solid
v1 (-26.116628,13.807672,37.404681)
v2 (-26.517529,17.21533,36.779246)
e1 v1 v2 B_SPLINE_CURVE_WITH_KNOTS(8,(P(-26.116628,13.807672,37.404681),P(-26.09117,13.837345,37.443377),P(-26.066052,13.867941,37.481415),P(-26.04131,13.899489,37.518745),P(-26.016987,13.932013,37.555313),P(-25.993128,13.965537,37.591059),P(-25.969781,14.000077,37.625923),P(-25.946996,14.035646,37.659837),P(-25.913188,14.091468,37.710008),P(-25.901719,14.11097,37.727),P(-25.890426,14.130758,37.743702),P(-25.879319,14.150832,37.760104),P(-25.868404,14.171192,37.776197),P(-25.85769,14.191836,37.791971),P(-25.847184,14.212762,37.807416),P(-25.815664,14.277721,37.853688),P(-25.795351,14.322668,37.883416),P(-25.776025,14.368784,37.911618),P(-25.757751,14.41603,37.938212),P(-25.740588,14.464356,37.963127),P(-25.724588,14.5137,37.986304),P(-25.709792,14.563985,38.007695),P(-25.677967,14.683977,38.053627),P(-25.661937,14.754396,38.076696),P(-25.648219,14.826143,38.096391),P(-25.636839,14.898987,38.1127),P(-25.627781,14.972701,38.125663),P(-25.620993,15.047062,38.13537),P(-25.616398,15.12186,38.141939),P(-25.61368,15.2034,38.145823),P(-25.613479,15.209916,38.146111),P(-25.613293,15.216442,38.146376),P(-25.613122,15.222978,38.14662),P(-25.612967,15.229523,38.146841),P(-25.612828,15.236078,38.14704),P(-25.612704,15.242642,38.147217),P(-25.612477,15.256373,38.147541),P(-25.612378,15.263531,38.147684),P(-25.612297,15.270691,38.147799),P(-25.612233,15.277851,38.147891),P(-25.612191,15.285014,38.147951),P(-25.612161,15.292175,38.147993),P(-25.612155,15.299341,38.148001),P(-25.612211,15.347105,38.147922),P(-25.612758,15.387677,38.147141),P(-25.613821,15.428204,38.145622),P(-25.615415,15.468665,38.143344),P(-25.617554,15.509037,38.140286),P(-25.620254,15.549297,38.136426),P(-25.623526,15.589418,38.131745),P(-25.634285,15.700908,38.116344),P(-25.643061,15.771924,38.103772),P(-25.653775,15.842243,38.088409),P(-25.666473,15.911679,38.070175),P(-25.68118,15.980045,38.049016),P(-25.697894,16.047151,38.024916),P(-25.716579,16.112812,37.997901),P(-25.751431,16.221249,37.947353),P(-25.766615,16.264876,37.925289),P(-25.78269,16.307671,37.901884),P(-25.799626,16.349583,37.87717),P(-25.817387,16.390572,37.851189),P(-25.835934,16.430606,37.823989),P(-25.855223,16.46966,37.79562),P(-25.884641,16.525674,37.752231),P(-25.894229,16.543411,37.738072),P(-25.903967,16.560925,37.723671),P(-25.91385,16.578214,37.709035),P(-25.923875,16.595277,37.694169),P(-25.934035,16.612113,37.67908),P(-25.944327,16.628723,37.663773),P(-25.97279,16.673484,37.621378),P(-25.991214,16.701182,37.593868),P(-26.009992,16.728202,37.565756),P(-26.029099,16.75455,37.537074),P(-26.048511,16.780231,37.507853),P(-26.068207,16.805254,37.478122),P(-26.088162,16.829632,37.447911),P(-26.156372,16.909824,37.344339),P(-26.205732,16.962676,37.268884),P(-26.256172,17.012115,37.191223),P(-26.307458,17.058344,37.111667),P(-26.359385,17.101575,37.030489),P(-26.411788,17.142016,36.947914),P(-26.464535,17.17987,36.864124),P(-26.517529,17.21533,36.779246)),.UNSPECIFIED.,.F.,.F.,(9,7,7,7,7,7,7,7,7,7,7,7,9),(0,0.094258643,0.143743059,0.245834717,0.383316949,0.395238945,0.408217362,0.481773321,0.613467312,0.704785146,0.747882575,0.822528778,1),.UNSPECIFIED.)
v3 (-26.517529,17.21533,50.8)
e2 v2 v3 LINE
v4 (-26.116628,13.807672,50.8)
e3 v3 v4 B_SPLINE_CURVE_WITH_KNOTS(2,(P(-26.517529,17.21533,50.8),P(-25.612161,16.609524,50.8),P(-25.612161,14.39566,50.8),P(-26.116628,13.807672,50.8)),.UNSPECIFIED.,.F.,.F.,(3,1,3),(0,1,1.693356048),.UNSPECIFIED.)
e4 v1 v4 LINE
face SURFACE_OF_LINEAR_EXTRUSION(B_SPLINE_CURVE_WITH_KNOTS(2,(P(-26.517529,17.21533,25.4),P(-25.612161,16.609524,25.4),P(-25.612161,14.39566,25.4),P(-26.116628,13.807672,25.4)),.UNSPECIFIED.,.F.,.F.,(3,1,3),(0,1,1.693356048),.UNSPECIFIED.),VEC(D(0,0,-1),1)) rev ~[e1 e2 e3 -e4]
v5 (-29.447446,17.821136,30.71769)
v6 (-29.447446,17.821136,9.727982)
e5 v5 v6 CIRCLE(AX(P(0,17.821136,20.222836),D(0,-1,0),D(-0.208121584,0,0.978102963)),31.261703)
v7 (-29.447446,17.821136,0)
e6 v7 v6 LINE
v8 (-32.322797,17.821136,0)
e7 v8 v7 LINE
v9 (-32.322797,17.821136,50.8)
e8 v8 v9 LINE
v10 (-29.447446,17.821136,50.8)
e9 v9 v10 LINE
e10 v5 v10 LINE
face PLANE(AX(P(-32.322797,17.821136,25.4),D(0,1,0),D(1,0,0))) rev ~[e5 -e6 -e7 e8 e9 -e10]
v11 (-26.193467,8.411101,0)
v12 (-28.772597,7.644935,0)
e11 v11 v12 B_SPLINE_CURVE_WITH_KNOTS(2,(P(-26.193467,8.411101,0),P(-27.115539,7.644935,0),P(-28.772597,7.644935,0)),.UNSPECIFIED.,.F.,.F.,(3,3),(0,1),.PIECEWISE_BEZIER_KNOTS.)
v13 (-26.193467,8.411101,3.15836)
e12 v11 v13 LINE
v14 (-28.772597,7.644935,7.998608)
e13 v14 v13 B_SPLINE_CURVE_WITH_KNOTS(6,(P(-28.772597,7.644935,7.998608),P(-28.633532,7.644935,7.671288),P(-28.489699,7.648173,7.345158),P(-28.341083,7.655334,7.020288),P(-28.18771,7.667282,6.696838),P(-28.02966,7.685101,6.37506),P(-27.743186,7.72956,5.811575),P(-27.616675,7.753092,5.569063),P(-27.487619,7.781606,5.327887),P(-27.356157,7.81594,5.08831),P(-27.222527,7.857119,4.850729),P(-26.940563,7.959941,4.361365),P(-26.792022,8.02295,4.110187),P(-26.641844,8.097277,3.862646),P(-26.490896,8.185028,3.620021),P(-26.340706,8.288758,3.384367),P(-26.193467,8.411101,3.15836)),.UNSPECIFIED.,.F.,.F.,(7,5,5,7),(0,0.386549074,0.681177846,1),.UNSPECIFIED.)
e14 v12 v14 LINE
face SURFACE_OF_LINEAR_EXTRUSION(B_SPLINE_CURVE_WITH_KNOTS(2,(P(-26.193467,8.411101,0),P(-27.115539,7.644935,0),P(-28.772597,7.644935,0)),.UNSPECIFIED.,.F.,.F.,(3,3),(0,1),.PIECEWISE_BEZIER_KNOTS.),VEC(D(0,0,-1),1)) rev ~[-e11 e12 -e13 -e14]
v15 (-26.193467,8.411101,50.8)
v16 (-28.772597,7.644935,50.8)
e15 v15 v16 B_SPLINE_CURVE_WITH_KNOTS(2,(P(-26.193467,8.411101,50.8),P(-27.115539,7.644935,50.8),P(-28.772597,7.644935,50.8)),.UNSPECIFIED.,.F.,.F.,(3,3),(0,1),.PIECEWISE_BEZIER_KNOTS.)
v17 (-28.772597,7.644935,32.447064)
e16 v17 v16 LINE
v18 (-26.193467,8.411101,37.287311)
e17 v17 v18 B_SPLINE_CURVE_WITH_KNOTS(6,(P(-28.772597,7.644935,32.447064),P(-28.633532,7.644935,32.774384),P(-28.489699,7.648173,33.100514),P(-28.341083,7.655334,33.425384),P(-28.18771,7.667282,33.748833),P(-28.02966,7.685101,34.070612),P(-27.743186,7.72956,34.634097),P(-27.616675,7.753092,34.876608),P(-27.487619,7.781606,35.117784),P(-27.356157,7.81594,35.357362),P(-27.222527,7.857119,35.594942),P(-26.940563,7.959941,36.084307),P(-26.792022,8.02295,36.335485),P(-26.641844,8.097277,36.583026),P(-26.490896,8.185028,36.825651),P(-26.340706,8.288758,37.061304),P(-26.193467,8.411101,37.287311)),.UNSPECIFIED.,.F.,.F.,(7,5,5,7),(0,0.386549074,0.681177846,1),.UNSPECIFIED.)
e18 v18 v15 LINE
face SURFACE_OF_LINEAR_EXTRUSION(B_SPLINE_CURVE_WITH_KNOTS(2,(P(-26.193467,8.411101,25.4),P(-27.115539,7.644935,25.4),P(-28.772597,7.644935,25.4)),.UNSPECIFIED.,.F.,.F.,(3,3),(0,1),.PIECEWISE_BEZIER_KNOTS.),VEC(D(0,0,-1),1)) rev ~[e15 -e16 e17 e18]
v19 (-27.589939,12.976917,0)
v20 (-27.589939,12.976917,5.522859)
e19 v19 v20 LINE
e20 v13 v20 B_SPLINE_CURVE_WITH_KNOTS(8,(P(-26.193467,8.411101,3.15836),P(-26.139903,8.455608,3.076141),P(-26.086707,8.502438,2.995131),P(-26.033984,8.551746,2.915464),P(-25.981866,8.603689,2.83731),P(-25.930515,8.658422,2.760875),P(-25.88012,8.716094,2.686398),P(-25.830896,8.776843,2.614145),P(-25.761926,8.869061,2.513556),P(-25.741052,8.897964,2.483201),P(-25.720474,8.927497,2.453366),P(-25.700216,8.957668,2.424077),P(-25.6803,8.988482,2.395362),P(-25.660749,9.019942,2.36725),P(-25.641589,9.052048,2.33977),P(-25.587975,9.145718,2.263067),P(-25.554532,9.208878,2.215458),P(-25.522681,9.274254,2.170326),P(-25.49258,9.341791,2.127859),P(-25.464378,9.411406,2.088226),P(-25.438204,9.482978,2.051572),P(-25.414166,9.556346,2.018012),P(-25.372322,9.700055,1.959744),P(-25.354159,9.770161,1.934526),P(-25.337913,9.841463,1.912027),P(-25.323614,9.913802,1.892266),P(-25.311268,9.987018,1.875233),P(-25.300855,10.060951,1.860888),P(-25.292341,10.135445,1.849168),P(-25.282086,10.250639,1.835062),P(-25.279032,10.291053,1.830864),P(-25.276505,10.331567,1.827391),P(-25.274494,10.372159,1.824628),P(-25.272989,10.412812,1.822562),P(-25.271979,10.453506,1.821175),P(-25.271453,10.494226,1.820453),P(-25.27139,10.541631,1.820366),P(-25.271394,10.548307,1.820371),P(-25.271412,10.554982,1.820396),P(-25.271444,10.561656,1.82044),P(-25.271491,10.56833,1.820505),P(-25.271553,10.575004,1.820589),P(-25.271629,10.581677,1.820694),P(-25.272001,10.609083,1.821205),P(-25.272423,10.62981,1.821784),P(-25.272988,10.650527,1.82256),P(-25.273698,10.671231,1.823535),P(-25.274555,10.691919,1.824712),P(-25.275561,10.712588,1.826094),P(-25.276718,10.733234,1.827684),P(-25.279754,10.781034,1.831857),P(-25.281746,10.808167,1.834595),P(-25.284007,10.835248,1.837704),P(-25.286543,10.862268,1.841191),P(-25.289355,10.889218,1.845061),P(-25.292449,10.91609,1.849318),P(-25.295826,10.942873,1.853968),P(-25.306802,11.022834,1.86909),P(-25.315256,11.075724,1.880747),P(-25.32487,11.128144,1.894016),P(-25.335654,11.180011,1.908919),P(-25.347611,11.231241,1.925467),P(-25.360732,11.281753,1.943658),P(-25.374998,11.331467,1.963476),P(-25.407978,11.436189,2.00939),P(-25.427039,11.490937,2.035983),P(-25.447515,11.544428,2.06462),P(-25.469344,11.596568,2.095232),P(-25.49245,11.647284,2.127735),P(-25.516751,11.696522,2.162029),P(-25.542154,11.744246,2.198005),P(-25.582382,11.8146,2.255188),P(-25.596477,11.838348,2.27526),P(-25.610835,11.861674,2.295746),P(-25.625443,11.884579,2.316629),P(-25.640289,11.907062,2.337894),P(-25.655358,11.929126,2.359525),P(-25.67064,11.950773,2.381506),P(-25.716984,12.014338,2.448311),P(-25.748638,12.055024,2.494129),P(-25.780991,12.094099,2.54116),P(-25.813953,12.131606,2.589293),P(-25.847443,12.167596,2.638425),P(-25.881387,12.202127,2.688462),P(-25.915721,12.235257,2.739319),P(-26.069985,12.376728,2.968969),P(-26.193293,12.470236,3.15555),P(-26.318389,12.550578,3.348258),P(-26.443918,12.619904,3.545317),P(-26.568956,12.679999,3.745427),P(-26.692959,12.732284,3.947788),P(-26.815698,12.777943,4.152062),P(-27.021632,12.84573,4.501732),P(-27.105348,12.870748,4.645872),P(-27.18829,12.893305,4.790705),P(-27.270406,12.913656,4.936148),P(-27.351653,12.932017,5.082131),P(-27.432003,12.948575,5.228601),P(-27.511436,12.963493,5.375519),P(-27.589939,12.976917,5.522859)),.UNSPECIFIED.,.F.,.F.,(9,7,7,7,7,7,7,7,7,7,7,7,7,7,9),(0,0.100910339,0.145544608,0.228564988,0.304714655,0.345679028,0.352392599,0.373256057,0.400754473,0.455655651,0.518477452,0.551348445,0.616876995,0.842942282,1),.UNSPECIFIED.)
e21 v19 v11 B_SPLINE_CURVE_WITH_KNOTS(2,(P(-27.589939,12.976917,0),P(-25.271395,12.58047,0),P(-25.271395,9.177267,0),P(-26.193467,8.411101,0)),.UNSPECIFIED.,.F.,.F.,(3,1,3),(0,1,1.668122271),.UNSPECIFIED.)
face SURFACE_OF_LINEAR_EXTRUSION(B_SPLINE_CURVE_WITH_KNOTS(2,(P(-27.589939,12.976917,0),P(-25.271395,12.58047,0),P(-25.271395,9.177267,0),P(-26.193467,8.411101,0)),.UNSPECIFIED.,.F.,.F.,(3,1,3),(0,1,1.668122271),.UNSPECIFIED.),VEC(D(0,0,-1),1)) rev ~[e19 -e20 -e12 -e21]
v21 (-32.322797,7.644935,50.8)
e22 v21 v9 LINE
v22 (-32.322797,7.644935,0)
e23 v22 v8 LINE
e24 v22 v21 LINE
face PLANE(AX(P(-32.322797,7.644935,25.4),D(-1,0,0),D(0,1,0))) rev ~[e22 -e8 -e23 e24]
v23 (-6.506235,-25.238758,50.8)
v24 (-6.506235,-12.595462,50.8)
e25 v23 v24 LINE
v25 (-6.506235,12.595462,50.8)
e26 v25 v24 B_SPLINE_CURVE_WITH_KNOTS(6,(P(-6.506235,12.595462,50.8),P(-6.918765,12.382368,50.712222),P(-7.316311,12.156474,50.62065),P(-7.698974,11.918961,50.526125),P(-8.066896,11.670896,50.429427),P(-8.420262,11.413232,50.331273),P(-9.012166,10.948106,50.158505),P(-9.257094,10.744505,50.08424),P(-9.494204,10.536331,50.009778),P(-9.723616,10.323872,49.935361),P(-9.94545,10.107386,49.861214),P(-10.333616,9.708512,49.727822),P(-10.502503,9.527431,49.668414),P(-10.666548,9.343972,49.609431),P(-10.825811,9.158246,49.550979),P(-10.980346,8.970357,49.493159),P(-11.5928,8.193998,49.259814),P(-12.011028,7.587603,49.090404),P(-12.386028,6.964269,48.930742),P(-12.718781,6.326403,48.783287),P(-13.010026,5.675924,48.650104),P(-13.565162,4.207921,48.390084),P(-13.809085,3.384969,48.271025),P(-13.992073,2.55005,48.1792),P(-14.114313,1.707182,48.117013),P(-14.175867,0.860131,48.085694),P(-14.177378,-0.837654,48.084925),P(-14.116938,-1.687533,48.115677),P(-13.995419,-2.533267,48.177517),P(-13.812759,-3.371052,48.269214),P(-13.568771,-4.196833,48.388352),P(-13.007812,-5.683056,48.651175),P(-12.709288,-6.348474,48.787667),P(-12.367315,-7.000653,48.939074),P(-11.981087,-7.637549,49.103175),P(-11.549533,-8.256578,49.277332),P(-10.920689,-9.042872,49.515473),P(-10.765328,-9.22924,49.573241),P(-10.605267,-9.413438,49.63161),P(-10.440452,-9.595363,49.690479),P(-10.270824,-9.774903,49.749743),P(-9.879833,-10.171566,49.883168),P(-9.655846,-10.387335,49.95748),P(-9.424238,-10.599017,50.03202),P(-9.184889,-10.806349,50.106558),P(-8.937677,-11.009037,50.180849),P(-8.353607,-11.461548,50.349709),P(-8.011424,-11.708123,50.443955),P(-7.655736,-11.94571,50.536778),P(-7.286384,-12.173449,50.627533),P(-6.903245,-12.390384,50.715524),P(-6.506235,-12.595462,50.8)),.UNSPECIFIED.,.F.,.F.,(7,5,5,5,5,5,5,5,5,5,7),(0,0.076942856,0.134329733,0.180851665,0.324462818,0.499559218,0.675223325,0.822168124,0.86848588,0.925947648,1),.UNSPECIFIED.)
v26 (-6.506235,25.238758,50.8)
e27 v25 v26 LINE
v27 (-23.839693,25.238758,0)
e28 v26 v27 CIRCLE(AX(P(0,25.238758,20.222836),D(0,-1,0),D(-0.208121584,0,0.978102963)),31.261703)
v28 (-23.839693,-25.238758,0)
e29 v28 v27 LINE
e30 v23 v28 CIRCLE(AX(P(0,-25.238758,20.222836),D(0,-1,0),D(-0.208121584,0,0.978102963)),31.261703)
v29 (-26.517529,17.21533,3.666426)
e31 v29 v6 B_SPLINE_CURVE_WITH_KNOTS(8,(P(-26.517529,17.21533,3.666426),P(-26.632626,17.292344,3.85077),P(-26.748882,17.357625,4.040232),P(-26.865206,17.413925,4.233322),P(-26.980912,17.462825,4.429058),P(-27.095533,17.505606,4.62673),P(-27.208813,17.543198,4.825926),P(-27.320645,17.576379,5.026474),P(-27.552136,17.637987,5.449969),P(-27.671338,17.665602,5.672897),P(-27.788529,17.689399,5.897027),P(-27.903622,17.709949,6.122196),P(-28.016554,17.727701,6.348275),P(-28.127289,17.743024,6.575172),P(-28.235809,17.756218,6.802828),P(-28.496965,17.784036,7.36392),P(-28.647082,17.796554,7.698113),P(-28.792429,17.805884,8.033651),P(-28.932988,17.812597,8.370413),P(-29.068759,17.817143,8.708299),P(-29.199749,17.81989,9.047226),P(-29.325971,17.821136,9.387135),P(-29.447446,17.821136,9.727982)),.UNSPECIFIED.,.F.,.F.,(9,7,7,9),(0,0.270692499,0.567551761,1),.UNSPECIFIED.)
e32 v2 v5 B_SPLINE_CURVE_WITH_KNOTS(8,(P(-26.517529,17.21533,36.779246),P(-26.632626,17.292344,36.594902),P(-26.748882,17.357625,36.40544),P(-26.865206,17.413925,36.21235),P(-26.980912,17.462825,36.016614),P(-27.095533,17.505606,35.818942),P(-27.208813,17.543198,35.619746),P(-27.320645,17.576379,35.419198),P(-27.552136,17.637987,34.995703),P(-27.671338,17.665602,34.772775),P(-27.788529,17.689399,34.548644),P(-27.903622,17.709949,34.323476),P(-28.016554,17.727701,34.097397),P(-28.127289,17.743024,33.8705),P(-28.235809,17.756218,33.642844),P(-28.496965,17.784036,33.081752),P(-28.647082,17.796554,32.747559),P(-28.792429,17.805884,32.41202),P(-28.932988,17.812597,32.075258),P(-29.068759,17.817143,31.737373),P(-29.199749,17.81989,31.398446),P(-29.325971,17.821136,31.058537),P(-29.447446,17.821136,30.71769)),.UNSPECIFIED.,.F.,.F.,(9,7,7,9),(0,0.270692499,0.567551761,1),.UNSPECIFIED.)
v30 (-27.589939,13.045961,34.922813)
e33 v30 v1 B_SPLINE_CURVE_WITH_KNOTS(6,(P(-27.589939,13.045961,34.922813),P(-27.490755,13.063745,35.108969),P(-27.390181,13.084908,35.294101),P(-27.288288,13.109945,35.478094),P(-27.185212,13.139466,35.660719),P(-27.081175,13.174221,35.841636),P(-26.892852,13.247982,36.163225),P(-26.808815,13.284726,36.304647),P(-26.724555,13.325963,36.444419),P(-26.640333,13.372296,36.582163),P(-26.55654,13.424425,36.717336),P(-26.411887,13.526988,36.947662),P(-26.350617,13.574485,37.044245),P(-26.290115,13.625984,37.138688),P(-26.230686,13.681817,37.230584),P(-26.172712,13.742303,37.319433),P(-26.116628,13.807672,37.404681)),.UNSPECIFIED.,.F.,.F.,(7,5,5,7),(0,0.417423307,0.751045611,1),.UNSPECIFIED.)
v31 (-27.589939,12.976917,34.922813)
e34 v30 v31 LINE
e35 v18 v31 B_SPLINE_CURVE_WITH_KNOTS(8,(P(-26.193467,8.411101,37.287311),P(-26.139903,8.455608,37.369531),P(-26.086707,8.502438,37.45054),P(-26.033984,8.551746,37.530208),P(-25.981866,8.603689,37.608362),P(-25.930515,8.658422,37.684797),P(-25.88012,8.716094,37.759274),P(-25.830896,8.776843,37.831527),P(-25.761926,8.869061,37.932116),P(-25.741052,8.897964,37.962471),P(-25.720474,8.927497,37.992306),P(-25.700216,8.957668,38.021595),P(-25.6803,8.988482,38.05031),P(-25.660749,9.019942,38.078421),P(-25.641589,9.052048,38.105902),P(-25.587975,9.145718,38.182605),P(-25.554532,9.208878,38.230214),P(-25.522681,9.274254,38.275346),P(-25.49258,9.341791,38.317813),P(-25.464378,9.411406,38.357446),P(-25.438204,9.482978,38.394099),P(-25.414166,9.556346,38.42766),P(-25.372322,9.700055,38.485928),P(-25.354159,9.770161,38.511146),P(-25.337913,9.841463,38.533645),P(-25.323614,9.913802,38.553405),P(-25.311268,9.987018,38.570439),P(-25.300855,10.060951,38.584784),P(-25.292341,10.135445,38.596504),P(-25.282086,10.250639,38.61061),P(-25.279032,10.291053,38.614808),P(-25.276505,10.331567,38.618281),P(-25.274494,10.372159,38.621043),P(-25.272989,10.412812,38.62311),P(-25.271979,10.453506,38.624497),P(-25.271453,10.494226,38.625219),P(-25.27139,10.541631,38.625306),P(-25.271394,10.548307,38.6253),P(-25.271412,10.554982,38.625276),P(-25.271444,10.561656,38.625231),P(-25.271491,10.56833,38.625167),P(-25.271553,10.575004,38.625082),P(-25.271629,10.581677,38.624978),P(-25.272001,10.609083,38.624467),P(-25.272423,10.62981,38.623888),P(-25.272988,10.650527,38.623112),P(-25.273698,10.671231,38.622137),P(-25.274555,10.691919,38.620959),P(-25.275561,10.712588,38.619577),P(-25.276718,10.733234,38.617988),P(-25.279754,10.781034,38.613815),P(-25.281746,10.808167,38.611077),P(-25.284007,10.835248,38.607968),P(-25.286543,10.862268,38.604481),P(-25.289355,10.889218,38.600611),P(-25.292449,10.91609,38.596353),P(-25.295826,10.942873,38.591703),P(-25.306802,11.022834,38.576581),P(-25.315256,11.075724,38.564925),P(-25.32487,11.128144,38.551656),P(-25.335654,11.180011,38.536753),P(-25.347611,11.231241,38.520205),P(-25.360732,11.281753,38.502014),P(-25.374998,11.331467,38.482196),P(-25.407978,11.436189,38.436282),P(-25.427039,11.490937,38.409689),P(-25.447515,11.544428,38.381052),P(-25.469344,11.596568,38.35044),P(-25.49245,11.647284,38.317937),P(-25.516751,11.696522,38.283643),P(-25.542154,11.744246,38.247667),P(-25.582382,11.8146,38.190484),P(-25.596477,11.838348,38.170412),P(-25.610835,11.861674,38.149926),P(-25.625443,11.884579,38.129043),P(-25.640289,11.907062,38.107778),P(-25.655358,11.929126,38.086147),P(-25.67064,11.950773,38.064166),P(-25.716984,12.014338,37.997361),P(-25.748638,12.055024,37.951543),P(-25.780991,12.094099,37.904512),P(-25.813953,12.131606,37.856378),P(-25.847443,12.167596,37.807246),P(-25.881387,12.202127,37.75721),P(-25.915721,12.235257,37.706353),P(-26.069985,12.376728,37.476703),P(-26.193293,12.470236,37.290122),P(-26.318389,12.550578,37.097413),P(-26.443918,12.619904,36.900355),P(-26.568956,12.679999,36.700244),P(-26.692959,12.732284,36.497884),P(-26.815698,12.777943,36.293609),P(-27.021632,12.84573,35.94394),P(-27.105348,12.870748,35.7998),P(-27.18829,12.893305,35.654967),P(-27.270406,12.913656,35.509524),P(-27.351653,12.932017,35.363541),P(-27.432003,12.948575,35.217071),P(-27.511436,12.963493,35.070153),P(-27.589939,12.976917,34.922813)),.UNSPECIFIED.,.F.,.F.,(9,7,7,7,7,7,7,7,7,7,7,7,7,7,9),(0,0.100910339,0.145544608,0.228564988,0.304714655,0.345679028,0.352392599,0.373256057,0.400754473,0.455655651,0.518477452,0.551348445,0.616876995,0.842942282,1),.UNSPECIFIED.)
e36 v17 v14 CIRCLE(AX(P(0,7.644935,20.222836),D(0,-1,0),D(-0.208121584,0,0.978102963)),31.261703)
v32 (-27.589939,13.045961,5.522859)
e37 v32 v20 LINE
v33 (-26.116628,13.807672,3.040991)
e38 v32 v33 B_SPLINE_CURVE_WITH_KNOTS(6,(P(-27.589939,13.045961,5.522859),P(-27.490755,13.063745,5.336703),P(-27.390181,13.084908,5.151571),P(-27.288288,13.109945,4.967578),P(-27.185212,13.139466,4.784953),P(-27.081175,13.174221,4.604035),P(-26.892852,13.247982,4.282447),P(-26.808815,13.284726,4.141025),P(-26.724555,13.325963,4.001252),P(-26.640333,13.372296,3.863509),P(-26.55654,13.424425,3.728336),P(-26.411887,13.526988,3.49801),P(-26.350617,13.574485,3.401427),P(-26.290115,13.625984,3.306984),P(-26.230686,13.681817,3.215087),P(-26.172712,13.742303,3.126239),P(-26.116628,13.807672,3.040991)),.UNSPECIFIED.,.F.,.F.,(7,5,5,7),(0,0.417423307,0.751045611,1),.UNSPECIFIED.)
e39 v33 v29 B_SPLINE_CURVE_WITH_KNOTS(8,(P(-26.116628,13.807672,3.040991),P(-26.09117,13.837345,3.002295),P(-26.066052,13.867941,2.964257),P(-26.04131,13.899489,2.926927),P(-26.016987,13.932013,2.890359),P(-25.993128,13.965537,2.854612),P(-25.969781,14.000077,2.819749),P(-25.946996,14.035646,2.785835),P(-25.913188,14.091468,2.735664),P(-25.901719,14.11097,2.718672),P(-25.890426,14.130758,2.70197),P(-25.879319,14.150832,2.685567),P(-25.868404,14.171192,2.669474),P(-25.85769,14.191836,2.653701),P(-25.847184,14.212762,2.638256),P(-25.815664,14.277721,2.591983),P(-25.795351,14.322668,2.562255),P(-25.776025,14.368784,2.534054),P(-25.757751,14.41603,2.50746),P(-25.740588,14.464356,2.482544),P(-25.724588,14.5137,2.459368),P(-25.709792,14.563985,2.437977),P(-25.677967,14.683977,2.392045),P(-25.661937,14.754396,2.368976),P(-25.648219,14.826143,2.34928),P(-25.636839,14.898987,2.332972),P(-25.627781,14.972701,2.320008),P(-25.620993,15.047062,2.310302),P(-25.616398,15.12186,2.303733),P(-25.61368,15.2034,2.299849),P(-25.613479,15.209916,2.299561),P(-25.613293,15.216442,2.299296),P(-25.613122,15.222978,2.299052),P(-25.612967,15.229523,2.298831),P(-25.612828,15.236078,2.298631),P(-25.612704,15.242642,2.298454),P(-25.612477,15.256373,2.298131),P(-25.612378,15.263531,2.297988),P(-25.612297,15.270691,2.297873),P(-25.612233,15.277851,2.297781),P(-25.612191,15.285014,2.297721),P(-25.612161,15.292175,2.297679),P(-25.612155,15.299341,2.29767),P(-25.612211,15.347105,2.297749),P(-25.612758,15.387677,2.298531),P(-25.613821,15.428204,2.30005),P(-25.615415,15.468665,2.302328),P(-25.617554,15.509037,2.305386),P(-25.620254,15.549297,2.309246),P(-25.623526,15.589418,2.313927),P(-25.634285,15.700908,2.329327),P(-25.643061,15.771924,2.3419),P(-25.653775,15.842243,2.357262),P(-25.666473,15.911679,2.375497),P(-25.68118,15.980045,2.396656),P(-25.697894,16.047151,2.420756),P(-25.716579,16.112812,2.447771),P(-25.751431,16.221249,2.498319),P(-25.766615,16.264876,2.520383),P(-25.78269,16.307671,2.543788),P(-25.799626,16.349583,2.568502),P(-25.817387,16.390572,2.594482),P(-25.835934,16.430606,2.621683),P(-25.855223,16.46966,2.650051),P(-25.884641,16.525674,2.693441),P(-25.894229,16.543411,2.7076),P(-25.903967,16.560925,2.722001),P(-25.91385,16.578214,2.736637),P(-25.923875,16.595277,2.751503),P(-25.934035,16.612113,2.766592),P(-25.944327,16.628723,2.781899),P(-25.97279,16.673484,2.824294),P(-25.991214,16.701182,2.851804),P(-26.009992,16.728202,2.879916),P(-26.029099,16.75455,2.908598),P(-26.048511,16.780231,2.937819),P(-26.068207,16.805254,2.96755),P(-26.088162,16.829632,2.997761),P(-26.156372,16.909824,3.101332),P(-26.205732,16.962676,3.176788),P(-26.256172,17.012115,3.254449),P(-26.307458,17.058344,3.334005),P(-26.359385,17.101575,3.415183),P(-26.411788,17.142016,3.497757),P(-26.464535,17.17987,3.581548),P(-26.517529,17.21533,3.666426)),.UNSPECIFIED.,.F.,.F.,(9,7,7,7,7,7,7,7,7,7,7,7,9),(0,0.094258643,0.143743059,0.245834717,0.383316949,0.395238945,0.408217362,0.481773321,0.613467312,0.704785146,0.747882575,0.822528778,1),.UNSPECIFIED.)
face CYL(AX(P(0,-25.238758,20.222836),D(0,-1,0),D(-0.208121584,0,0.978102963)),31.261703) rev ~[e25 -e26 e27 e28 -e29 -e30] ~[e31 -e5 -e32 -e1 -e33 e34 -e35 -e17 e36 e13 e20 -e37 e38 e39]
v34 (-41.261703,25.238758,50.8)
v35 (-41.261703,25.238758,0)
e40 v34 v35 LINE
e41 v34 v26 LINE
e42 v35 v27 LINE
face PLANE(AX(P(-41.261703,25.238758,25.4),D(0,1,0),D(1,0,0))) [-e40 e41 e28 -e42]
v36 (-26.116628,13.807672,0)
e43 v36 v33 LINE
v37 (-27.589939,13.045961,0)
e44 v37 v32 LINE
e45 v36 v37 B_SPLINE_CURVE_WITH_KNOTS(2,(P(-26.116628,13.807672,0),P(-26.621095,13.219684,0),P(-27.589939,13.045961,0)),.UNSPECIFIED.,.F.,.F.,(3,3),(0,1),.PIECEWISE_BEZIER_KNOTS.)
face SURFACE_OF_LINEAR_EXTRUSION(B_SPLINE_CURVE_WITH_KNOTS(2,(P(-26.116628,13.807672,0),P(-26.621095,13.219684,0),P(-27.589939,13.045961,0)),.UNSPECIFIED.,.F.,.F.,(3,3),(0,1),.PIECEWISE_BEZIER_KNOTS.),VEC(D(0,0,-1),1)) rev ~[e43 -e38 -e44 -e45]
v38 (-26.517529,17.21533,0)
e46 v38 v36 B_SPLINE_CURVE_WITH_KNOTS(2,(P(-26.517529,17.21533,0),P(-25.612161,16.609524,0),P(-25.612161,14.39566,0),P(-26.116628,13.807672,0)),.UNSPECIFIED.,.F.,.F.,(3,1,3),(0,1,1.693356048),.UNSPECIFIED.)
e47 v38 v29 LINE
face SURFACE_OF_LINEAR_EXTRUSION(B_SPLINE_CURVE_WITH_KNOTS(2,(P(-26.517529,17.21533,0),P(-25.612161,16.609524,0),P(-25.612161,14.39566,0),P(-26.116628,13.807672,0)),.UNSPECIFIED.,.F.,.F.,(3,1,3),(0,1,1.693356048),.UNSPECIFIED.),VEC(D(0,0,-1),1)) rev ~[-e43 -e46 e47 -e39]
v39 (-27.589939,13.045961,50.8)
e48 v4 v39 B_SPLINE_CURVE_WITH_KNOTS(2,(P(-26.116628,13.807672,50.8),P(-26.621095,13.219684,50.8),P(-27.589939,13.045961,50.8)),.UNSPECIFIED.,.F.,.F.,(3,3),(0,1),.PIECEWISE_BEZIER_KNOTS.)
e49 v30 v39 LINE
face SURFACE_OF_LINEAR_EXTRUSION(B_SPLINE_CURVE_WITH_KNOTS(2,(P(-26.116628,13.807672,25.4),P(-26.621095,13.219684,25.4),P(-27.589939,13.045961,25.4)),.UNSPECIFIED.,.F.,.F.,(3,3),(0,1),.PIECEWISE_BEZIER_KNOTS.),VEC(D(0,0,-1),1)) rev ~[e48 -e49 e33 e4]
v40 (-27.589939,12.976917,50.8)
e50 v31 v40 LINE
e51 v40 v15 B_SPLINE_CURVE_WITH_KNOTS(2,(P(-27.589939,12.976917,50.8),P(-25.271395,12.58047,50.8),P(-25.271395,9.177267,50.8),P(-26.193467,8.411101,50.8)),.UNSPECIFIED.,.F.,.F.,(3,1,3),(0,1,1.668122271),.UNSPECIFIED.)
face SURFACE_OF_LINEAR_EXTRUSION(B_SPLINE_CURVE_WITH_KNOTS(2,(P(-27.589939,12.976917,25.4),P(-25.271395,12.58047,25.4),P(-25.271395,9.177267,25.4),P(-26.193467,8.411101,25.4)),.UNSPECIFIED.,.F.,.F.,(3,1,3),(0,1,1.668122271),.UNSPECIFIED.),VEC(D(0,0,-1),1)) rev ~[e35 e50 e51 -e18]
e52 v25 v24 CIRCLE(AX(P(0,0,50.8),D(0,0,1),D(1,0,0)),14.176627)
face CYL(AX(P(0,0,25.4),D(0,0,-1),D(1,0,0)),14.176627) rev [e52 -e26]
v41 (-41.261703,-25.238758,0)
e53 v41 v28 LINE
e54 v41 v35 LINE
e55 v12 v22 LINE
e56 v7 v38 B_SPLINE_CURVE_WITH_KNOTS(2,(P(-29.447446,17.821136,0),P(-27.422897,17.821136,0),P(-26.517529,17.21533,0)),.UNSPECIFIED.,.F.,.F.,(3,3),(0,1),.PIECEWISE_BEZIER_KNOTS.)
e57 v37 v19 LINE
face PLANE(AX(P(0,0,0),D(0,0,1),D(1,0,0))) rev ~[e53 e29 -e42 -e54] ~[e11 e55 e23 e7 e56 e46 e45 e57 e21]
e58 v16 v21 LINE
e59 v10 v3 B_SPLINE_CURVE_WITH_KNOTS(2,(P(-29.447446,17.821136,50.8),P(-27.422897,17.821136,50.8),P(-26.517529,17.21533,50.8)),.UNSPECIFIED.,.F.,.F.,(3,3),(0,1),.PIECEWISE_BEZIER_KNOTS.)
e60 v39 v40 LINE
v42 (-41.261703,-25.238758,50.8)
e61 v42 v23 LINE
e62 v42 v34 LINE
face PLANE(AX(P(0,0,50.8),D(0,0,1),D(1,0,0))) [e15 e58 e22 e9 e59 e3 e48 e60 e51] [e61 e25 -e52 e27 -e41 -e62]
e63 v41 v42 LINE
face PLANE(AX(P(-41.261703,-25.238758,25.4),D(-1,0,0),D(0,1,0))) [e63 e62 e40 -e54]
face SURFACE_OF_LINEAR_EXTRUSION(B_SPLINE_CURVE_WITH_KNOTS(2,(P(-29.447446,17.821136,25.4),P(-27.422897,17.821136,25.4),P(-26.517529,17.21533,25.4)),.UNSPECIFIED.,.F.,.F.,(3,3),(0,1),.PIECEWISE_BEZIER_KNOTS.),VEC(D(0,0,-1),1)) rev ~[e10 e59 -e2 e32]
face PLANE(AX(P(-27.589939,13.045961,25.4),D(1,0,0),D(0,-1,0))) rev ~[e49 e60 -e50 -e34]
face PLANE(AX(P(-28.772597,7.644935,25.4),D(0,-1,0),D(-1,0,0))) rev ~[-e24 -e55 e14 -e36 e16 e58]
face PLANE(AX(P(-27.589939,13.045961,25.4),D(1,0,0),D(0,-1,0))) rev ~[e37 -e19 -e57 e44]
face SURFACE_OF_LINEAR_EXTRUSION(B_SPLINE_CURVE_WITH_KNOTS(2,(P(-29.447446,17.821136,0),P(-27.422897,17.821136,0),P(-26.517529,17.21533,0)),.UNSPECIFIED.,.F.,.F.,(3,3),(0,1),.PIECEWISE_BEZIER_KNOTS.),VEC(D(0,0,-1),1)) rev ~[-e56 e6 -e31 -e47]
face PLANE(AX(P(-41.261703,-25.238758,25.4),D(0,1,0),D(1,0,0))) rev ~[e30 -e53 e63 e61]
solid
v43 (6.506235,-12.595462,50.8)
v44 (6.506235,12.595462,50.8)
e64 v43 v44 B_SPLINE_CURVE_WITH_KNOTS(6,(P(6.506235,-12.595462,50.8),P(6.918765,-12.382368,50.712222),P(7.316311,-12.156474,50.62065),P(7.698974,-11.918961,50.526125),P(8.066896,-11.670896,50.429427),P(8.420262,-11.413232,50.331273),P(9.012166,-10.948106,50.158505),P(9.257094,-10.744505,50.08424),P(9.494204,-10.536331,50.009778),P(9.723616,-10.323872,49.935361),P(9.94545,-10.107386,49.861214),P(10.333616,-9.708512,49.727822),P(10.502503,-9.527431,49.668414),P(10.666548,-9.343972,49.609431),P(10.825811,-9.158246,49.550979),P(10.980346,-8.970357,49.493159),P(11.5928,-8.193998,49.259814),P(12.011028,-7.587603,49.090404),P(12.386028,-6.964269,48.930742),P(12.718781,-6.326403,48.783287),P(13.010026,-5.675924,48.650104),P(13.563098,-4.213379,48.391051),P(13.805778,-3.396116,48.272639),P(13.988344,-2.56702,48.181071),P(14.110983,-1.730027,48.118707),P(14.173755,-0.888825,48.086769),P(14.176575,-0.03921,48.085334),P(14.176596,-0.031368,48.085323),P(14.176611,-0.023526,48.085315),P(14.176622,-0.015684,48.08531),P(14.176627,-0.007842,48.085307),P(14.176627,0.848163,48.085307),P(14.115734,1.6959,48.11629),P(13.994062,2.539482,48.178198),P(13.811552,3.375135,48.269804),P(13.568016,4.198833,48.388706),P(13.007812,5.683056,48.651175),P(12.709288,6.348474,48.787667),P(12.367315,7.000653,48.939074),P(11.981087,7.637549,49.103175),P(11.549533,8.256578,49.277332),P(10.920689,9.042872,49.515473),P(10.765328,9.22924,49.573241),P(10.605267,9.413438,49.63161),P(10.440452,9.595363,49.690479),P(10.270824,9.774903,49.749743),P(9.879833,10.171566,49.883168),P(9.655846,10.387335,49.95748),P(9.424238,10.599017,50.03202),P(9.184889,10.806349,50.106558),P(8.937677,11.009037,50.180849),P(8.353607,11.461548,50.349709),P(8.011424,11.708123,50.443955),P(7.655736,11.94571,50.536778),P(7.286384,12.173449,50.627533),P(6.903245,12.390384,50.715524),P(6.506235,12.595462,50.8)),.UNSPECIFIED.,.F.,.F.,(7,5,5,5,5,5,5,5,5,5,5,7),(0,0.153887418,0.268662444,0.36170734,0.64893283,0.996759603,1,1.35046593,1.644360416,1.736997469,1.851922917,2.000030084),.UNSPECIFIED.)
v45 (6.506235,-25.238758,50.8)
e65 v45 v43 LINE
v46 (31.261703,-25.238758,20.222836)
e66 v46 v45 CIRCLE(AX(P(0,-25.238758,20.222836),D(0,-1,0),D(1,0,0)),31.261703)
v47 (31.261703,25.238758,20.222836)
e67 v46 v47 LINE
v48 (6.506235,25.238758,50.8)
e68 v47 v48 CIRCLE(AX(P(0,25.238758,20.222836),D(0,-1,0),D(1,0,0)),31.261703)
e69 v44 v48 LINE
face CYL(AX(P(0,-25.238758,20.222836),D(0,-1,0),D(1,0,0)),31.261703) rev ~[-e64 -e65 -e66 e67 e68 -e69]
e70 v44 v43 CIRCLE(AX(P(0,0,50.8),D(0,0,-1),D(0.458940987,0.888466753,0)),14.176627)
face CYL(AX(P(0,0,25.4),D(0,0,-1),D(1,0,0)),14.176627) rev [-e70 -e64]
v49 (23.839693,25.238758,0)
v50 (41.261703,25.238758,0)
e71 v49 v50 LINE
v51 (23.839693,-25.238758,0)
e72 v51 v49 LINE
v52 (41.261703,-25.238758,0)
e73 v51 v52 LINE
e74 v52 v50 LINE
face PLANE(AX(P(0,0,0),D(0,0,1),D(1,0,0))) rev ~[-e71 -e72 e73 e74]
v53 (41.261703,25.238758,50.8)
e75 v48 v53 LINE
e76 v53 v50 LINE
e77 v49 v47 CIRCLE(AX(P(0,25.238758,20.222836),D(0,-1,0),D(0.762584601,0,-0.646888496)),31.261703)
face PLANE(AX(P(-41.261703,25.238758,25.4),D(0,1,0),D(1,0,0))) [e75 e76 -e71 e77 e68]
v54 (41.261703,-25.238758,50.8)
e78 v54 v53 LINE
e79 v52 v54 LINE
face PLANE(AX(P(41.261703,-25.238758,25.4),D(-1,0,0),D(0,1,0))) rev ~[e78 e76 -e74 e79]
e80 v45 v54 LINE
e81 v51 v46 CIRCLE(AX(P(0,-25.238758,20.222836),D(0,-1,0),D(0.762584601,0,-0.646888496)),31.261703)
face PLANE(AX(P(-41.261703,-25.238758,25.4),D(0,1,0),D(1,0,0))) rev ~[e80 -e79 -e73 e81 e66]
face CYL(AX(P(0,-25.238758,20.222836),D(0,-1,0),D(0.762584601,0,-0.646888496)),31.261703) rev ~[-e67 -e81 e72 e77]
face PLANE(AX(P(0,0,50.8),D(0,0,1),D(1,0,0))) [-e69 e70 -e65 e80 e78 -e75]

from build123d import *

# Parameters (mm, degrees)
F0_W     = 82.5234055519
F0_H     = 50.4775159061
F0_R     = 14.1766268271
F1_DEPTH = 25.4
F2_W     = 82.5234055519
F2_H     = 50.4775159061
F2_R     = 14.1766268271
F3_DEPTH = 25.4
F5_DEPTH = 68.072


with BuildPart() as f1:
    # F0 (on Top) → F1 (new body)
    with BuildSketch(Plane.XY):
        Rectangle(F0_W, F0_H)
        with BuildLine():
            Line((-32.3227967278, 7.6449345797), (-32.3227967278, 17.8211357318))
            Line((-32.3227967278, 17.8211357318), (-29.4474463913, 17.8211357318))
            add(Edge.make_bspline(
                [(-29.4474463913, 17.8211357318), (-27.4228968515, 17.8211357318), (-26.517528988, 17.215329929)],
                knots=[0, 0, 0, 1, 1, 1], degree=2))
            add(Edge.make_bspline(
                [(-26.517528988, 17.215329929), (-25.6121611245, 16.6095241261), (-25.6121611245, 15.30214175)],
                knots=[0, 0, 0, 1, 1, 1], degree=2))
            add(Edge.make_bspline(
                [(-25.6121611245, 15.30214175), (-25.6121611245, 14.3956602729), (-26.1166280891, 13.8076722877)],
                knots=[0, 0, 0, 1, 1, 1], degree=2))
            add(Edge.make_bspline(
                [(-26.1166280891, 13.8076722877), (-26.6210950536, 13.2196843026), (-27.5899388928, 13.0459605797)],
                knots=[0, 0, 0, 1, 1, 1], degree=2))
            Line((-27.5899388928, 13.0459605797), (-27.5899388928, 12.976916536))
            add(Edge.make_bspline(
                [(-27.5899388928, 12.976916536), (-25.2713953604, 12.5804700915), (-25.2713953604, 10.5403299612)],
                knots=[0, 0, 0, 1, 1, 1], degree=2))
            add(Edge.make_bspline(
                [(-25.2713953604, 10.5403299612), (-25.2713953604, 9.1772669047), (-26.193467428, 8.4111007422)],
                knots=[0, 0, 0, 1, 1, 1], degree=2))
            add(Edge.make_bspline(
                [(-26.193467428, 8.4111007422), (-27.1155394957, 7.6449345797), (-28.7725965447, 7.6449345797)],
                knots=[0, 0, 0, 1, 1, 1], degree=2))
            Line((-28.7725965447, 7.6449345797), (-32.3227967278, 7.6449345797))
        make_face(mode=Mode.SUBTRACT)
        Circle(F0_R, mode=Mode.SUBTRACT)
    extrude(amount=F1_DEPTH)

    # F2 (on face) → F3 (join)
    with BuildSketch(Plane.XY.offset(25.4)):
        Rectangle(F2_W, F2_H)
        with BuildLine():
            Line((-28.7725965447, 7.6449345797), (-32.3227967278, 7.6449345797))
            Line((-32.3227967278, 7.6449345797), (-32.3227967278, 17.8211357318))
            Line((-32.3227967278, 17.8211357318), (-29.4474463913, 17.8211357318))
            add(Edge.make_bspline(
                [(-29.4474463913, 17.8211357318), (-27.4228968515, 17.8211357318), (-26.517528988, 17.215329929)],
                knots=[0, 0, 0, 1, 1, 1], degree=2))
            add(Edge.make_bspline(
                [(-26.517528988, 17.215329929), (-25.6121611245, 16.6095241261), (-25.6121611245, 15.30214175)],
                knots=[0, 0, 0, 1, 1, 1], degree=2))
            add(Edge.make_bspline(
                [(-25.6121611245, 15.30214175), (-25.6121611245, 14.3956602729), (-26.1166280891, 13.8076722877)],
                knots=[0, 0, 0, 1, 1, 1], degree=2))
            add(Edge.make_bspline(
                [(-26.1166280891, 13.8076722877), (-26.6210950536, 13.2196843026), (-27.5899388928, 13.0459605797)],
                knots=[0, 0, 0, 1, 1, 1], degree=2))
            Line((-27.5899388928, 13.0459605797), (-27.5899388928, 12.976916536))
            add(Edge.make_bspline(
                [(-27.5899388928, 12.976916536), (-25.2713953604, 12.5804700915), (-25.2713953604, 10.5403299612)],
                knots=[0, 0, 0, 1, 1, 1], degree=2))
            add(Edge.make_bspline(
                [(-25.2713953604, 10.5403299612), (-25.2713953604, 9.1772669047), (-26.193467428, 8.4111007422)],
                knots=[0, 0, 0, 1, 1, 1], degree=2))
            add(Edge.make_bspline(
                [(-26.193467428, 8.4111007422), (-27.1155394957, 7.6449345797), (-28.7725965447, 7.6449345797)],
                knots=[0, 0, 0, 1, 1, 1], degree=2))
        make_face(mode=Mode.SUBTRACT)
        Circle(F2_R, mode=Mode.SUBTRACT)
    extrude(amount=F3_DEPTH)

    # F4 (on face) → F5 (cut)
    with BuildSketch(Plane.XZ.offset(25.238757953)):
        with BuildLine():
            Line((-6.5062351096, 50.8), (6.5062351096, 50.8))
            ThreePointArc((6.5062351096, 50.8), (0, 51.4845386637), (-6.5062351096, 50.8))
        make_face()
        with BuildLine():
            ThreePointArc((23.8396931421, 0), (29.3476017907, 9.451933902), (31.261702776, 20.2228358877))
            ThreePointArc((31.261702776, 20.2228358877), (24.2970167782, 39.8938560985), (6.5062351096, 50.8))
            Line((6.5062351096, 50.8), (-6.5062351096, 50.8))
            ThreePointArc((-6.5062351096, 50.8), (-29.5868017935, 30.3181427224), (-23.8396931421, 0))
            Line((-23.8396931421, 0), (23.8396931421, 0))
        make_face()
    extrude(amount=-F5_DEPTH, mode=Mode.SUBTRACT)


solid = f1.part
